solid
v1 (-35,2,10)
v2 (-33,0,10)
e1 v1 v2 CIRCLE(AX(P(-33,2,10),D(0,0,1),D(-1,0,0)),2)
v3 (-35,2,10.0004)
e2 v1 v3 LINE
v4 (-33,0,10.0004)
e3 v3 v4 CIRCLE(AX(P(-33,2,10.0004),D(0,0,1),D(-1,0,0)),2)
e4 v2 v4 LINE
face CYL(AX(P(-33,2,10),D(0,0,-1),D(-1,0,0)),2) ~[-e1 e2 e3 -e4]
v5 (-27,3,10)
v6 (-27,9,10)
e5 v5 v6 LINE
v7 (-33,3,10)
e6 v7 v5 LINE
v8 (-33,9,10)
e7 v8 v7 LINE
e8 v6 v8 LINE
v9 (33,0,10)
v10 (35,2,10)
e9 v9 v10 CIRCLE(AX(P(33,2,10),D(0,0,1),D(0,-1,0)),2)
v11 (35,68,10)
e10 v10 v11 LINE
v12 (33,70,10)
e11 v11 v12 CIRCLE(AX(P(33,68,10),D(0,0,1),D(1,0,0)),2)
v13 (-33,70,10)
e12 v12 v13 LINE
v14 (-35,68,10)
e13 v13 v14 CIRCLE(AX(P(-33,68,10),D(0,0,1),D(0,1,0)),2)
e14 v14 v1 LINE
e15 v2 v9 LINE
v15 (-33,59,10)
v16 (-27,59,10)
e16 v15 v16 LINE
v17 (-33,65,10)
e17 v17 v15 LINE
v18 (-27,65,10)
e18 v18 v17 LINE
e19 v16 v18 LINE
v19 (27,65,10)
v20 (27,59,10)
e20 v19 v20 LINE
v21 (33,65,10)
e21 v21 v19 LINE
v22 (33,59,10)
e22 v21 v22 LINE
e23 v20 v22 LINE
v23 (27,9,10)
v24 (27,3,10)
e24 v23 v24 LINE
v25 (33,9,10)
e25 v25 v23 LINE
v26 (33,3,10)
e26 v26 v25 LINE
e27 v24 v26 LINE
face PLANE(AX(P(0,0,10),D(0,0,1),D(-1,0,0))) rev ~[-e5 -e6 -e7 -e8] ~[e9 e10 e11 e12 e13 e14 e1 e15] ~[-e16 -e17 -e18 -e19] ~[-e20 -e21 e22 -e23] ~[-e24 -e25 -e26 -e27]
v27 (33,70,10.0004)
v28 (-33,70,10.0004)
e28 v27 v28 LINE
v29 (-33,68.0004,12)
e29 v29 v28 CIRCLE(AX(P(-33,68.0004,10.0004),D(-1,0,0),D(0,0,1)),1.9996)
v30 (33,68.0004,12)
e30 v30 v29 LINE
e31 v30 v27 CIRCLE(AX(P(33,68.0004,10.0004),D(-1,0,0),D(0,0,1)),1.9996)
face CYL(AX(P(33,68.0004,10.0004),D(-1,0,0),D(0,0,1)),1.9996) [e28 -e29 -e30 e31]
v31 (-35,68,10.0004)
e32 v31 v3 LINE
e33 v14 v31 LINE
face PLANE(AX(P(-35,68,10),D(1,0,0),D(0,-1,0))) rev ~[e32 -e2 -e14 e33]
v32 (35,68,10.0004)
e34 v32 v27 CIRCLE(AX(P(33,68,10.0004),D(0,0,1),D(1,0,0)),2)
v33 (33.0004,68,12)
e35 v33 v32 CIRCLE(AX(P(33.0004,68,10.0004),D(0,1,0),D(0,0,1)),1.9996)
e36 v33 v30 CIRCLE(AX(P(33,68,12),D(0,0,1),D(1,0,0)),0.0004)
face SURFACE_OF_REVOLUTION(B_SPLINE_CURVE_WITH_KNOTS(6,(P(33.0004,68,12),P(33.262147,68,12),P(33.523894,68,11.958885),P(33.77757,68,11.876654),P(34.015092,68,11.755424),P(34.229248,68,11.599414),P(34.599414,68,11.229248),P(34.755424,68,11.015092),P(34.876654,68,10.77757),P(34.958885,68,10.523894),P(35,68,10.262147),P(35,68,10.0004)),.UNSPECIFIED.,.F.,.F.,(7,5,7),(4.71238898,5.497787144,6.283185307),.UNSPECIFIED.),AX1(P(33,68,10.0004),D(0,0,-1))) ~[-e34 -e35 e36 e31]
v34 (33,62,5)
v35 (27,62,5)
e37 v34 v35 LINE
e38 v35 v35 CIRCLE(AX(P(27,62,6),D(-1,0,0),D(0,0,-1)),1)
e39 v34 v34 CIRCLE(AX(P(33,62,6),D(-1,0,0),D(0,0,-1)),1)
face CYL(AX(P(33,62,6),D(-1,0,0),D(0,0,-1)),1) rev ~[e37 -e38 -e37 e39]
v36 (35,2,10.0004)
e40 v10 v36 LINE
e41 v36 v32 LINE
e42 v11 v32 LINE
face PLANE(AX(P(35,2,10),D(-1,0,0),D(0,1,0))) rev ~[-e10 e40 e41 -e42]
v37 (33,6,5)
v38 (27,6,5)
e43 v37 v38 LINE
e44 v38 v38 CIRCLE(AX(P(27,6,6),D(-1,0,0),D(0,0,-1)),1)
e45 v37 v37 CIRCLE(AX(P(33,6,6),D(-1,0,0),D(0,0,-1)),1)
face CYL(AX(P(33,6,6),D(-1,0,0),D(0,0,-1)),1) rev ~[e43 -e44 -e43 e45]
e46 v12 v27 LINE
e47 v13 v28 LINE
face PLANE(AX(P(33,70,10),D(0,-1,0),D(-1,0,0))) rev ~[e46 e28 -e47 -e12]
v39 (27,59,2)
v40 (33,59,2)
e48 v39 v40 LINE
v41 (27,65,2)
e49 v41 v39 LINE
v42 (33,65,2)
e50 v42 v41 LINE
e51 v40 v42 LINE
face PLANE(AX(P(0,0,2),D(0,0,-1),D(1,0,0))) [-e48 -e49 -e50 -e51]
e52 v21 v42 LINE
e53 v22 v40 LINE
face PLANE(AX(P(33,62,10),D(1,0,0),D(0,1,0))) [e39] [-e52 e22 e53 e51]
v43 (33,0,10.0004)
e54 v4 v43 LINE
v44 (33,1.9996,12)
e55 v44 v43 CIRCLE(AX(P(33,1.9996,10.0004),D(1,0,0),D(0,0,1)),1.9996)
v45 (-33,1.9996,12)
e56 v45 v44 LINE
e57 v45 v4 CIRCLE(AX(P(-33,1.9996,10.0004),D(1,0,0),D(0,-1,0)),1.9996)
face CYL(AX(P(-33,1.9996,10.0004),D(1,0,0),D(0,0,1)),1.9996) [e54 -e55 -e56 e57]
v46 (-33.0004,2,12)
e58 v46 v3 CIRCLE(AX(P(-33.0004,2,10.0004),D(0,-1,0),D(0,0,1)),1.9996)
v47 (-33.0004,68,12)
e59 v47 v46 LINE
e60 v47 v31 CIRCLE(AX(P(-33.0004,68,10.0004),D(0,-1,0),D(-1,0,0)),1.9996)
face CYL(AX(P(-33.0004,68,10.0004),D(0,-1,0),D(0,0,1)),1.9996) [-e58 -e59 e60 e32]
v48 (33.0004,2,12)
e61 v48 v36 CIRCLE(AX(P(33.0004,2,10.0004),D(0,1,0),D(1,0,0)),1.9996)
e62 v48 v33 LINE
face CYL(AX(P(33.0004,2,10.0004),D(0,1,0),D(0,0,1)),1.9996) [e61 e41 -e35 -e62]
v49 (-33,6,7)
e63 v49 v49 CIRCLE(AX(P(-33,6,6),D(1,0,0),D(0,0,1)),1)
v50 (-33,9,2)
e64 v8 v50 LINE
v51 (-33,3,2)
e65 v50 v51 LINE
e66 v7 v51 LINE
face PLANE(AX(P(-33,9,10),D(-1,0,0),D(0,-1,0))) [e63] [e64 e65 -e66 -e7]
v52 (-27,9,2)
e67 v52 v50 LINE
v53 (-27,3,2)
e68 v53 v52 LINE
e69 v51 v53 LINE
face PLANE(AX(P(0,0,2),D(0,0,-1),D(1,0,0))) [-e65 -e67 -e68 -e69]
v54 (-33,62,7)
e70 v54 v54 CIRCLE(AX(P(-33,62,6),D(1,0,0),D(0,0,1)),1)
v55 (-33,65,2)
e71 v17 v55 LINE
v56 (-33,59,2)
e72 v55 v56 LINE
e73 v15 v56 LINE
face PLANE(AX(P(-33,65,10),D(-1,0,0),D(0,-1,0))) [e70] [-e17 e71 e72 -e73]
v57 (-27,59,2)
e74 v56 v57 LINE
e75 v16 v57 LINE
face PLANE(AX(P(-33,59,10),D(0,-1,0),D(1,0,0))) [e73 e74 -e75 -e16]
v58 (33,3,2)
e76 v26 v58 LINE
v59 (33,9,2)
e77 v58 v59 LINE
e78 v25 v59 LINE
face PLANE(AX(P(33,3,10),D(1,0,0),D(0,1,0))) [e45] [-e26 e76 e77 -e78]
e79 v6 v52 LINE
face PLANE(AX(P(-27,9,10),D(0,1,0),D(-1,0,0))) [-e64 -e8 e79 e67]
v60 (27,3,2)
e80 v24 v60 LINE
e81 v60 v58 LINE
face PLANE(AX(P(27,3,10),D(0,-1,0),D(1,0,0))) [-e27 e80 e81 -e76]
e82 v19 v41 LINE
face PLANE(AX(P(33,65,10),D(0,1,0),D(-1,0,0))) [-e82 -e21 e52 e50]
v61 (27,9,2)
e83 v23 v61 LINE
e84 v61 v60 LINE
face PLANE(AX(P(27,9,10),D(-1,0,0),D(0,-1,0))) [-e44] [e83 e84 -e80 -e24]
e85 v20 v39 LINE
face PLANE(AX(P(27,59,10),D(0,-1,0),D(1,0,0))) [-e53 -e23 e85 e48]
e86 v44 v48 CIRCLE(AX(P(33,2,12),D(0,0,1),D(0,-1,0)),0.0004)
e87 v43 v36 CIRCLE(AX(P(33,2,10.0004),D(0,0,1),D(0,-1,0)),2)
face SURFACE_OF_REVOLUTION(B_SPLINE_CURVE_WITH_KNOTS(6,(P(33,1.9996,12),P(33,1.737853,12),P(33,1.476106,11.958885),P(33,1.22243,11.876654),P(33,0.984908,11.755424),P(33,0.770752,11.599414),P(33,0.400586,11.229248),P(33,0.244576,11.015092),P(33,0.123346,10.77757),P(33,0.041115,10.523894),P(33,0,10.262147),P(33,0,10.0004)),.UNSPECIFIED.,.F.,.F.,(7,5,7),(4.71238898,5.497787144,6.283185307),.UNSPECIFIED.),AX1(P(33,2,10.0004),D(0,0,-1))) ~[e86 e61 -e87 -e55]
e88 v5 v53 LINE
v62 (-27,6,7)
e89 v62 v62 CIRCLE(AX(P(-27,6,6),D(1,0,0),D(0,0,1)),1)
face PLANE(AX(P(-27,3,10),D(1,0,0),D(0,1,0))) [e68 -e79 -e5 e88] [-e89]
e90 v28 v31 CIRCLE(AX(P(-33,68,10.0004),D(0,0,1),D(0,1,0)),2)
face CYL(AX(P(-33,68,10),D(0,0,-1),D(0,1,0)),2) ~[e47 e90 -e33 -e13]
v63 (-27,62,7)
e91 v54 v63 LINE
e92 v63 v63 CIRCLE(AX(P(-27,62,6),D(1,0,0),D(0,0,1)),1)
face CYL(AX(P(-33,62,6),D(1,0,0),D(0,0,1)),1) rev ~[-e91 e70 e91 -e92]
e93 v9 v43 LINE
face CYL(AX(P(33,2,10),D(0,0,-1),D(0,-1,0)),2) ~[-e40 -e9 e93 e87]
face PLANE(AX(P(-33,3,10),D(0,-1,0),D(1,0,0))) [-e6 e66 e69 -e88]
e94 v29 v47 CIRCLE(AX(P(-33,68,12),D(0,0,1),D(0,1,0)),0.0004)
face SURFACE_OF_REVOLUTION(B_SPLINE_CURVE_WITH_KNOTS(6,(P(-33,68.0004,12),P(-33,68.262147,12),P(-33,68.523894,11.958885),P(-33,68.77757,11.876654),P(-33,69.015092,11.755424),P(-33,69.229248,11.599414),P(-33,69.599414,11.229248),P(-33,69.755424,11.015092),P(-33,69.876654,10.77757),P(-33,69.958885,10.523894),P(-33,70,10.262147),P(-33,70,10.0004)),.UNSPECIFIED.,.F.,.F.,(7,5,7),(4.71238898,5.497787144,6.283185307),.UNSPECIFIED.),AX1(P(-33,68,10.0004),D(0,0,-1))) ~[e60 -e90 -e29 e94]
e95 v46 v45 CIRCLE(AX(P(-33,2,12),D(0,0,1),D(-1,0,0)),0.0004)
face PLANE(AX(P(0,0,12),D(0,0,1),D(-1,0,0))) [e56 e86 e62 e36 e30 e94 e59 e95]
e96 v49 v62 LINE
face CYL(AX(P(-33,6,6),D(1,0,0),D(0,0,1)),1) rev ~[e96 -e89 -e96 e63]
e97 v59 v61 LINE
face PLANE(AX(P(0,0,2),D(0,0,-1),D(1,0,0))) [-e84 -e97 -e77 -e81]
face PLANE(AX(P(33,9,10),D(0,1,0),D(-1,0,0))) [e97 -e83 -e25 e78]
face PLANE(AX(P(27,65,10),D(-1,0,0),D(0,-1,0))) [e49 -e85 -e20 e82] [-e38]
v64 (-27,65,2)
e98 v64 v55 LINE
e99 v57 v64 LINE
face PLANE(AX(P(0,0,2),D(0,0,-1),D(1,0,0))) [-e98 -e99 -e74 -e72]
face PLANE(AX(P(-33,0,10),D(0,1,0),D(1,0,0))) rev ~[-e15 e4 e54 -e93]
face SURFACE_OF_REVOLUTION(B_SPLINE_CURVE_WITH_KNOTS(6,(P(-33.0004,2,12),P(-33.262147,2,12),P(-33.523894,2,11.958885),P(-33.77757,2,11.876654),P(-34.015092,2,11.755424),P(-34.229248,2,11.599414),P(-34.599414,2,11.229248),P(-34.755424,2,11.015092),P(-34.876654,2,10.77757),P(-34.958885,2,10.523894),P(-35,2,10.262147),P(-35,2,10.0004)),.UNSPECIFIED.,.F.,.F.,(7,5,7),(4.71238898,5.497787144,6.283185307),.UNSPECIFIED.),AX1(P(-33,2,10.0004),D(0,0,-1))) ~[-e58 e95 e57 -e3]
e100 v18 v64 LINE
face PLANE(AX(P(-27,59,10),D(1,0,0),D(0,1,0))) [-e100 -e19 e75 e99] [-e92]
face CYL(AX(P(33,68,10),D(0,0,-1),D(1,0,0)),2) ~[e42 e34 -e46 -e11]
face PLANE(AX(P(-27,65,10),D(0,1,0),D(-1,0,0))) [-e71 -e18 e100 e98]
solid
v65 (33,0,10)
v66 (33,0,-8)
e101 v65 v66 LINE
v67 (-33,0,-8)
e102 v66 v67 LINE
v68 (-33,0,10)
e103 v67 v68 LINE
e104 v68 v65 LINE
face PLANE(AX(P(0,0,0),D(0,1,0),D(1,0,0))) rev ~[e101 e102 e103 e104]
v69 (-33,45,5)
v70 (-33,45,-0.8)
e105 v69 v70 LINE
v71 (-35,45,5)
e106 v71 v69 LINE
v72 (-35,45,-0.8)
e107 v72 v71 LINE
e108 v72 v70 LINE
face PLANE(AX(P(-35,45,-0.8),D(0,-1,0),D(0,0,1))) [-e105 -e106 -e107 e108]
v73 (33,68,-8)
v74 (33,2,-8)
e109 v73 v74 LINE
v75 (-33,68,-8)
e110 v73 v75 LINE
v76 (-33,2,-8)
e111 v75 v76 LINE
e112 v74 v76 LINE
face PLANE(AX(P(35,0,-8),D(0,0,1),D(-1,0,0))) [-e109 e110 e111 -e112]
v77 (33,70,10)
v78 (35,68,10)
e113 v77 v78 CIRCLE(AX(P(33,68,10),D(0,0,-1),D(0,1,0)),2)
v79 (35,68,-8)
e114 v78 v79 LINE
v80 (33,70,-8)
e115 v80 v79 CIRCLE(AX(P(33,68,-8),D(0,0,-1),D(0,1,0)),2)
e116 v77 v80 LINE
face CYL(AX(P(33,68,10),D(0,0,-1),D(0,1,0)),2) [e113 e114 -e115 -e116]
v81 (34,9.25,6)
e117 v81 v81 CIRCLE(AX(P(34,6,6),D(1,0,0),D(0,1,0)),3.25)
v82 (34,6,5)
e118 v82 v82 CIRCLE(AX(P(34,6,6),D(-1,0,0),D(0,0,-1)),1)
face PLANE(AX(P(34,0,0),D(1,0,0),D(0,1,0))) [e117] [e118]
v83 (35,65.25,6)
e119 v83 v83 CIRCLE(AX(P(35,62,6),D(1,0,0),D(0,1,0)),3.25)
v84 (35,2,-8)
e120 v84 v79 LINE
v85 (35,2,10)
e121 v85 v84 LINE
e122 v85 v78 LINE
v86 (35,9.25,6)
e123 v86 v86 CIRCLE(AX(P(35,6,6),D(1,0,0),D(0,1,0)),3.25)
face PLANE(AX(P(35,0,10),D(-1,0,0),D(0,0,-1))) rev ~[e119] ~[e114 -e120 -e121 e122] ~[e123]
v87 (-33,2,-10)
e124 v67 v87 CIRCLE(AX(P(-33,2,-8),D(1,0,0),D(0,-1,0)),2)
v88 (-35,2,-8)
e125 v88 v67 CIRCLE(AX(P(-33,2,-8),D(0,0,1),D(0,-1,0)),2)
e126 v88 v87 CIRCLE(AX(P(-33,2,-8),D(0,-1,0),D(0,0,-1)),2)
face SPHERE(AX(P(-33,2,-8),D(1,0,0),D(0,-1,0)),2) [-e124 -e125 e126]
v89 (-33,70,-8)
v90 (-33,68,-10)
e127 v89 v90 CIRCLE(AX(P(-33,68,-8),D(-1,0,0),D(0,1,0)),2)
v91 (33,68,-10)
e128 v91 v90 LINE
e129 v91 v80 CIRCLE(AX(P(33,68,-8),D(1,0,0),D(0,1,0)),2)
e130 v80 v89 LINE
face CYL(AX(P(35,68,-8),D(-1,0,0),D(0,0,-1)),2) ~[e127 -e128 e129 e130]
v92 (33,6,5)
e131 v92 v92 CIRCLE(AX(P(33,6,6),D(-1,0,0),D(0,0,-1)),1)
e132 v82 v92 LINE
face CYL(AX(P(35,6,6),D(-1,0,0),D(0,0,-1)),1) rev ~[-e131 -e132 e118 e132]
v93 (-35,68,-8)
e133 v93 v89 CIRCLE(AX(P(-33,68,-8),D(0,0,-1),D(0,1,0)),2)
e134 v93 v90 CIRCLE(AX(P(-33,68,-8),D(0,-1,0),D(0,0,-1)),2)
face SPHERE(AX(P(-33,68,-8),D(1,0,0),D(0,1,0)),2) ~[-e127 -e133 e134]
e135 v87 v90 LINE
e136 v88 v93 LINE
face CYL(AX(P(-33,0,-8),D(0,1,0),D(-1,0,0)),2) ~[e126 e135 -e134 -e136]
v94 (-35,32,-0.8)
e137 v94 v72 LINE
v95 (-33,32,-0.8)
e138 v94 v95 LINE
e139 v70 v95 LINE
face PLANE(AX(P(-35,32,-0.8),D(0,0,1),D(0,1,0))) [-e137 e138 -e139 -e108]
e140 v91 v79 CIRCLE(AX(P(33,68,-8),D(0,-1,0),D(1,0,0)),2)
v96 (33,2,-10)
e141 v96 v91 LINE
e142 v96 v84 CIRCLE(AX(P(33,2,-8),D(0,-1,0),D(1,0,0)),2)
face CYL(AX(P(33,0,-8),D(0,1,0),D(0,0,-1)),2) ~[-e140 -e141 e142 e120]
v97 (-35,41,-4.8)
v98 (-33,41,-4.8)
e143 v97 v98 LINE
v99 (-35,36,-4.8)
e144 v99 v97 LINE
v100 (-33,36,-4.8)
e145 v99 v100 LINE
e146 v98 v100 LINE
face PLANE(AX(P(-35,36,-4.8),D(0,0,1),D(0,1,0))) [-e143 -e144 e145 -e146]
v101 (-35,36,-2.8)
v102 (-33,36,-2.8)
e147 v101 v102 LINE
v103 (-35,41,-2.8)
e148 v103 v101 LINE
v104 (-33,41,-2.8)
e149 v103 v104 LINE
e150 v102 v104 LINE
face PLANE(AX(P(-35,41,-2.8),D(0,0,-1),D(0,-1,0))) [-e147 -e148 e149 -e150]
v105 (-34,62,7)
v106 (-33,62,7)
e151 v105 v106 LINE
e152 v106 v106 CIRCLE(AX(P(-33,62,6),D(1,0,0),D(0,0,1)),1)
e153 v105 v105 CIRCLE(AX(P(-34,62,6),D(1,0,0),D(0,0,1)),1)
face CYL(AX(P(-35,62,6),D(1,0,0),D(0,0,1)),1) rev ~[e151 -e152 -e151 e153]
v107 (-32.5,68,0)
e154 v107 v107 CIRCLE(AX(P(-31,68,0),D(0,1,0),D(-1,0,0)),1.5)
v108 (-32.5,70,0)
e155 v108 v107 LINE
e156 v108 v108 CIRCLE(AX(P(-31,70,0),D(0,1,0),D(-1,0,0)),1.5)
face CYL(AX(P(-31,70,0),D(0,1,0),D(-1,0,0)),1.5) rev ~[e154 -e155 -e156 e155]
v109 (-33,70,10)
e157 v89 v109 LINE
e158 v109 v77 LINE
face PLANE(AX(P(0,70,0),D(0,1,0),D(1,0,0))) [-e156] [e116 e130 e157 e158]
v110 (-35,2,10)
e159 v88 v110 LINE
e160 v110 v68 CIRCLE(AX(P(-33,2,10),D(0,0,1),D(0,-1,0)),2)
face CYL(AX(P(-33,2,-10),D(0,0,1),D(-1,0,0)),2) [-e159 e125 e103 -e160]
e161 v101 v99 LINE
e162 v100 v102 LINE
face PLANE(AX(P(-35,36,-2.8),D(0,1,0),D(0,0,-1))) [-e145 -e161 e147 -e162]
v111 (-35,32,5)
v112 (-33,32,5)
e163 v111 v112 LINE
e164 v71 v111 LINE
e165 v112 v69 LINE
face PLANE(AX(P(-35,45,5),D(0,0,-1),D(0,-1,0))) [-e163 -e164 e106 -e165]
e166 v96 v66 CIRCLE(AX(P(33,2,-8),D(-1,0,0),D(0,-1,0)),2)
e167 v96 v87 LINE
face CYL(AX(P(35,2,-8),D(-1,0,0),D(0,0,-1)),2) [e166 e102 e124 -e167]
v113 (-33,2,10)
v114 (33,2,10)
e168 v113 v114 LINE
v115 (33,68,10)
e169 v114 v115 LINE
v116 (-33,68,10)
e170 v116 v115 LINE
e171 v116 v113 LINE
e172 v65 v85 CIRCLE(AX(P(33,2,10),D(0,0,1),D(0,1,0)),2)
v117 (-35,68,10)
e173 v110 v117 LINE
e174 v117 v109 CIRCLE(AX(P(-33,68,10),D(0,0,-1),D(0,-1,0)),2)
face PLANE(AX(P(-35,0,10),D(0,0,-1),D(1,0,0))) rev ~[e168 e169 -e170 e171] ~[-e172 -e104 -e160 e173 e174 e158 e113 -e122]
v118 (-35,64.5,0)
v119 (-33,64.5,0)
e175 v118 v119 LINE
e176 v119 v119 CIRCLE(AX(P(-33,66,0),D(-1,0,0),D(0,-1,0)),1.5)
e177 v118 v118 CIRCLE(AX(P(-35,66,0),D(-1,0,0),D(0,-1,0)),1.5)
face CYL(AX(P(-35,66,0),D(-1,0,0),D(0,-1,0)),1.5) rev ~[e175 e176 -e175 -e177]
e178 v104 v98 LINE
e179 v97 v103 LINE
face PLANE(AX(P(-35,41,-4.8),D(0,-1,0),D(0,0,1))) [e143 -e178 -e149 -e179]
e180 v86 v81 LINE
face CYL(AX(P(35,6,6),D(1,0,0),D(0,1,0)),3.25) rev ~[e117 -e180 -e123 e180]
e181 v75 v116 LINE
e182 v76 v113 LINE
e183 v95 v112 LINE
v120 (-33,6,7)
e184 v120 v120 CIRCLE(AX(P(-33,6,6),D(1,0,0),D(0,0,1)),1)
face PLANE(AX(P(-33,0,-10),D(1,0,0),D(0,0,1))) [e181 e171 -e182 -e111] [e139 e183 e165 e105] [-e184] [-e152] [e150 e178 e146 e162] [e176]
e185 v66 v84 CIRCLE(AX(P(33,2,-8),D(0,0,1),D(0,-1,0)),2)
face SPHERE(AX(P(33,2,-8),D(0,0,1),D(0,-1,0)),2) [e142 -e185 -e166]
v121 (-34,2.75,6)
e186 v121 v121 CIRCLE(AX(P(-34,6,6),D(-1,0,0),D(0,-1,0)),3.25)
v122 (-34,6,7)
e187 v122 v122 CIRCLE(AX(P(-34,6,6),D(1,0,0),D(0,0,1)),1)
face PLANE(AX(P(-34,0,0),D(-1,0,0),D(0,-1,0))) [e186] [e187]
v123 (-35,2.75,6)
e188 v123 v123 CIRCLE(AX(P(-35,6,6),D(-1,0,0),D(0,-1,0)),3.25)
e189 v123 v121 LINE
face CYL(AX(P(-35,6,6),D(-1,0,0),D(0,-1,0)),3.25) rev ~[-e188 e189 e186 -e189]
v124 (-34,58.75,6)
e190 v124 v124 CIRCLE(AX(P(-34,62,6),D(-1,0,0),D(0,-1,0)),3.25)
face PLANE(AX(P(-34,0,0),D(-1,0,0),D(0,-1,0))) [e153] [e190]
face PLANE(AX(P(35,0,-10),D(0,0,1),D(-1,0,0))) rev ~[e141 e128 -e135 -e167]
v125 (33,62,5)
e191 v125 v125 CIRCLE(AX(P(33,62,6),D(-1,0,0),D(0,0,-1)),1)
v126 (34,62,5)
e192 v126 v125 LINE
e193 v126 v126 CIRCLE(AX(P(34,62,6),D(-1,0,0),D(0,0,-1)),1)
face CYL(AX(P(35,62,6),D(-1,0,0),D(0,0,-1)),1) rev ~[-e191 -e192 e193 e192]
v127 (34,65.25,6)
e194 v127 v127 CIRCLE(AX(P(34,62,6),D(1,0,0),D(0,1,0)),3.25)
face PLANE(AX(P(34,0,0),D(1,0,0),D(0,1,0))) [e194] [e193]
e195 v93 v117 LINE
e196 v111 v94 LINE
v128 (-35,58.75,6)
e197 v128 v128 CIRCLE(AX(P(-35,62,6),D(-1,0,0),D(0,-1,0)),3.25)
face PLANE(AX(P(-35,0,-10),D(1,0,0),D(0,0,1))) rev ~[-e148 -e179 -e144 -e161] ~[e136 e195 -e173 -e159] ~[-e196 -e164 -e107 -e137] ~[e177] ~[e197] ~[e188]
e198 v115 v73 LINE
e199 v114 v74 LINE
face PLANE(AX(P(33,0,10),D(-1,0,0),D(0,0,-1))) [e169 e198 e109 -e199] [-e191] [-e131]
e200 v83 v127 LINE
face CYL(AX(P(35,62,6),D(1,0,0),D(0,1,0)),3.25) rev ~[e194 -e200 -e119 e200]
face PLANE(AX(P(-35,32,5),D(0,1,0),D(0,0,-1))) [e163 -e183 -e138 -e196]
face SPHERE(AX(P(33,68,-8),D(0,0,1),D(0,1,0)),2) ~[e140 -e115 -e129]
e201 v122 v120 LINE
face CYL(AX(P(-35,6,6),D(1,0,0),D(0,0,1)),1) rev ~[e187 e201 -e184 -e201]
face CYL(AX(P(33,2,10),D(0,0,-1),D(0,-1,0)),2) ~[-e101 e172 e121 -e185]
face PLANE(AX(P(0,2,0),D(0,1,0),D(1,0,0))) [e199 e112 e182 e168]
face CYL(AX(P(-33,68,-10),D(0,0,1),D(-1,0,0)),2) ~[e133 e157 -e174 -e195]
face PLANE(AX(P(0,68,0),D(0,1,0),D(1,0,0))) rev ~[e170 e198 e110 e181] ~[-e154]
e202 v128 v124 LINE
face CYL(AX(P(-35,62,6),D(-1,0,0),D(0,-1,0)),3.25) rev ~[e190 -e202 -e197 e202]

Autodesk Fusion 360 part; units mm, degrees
sketch "Sketch1" plane through (0, 0, 0) normal (0, 1, 0) x (1, 0, 0) in component "Case"
  line L0 (-35, -10) -> (35, -10)
  line L1 (35, -10) -> (35, 10)
  line L2 (35, 10) -> (-35, 10)
  line L3 (-35, 10) -> (-35, -10)
  dimension "d1" = 70
  dimension "d2" = 20
  dimension "d4" = 35
  dimension "d5" = 10
extrude "Extrude1" add sketch "Sketch1" along normal blind 70 makes body 1 in component "Case"
shell "Shell1" thickness 2 removed faces 1 at (-11.6667, 23.3333, 10) on bodies 1 in component "Case"
sketch "Sketch2" plane through (-35, 0, 0) normal (-1, 0, 0) x (0, -1, 0) in component "Case"
  line L0 (0, -10) -> (0, 10)
  line L1 (0, 10) -> (-70, 10)
  line L2 (-70, 10) -> (-70, -10)
  line L3 (-70, -10) -> (0, -10)
  circle A0 centre (-66, 0) radius 1.5
  circle A1 centre (-6, 6) radius 3.25
  circle A2 centre (-62, 6) radius 3.25
  line L4 (-45, 5) -> (-32, 5)
  line L5 (-32, 5) -> (-32, -0.8)
  line L6 (-32, -0.8) -> (-45, -0.8)
  line L7 (-45, -0.8) -> (-45, 5)
  line L8 (-41, -2.8) -> (-36, -2.8)
  line L9 (-36, -2.8) -> (-36, -4.8)
  line L10 (-36, -4.8) -> (-41, -4.8)
  line L11 (-41, -4.8) -> (-41, -2.8)
  dimension "d9" = 3
  dimension "d10" = 4
  dimension "d11" = 10
  dimension "d12" = 6.5
  dimension "d14" = 6
  dimension "d15" = 6.5
  dimension "d16" = 8
  dimension "d17" = 4
  dimension "d29" = 13
  dimension "d30" = 5.8
  dimension "d31" = 5
  dimension "d32" = 2
  dimension "d33" = 5
  dimension "d34" = 25
  dimension "d35" = 2
  dimension "d36" = 4
  dimension "d87" = 4
hole "Hole2" at (-35, 6, 6) direction (1, 0, 0) diameter 2 depth 6 tip angle 118 bodies 1 in component "Case"
hole "Hole1" at (-35, 62, 6) direction (1, 0, 0) diameter 2 depth 6 tip angle 118 bodies 1 in component "Case"
extrude "Extrude2" cut sketch "Sketch2" against normal blind 1 contours A1 | A2 bodies 1 in component "Case"
extrude "Extrude3" cut sketch "Sketch2" against normal blind 6 contours A0 | L4 L5 L6 L7 | L8 L9 L10 L11 bodies 1 in component "Case"
sketch "Sketch3" plane through (0, 70, 0) normal (0, 1, 0) x (-1, 0, 0) in component "Case"
  line L0 (35, -10) -> (35, 10)
  line L1 (35, 10) -> (-35, 10)
  line L2 (-35, 10) -> (-35, -10)
  line L3 (-35, -10) -> (35, -10)
  circle A0 centre (31, 0) radius 1.5
  point P0 (35, 10)
  dimension "d39" = 3
  dimension "d40" = 4
  dimension "d41" = 10
extrude "Extrude4" cut sketch "Sketch3" against normal blind 6 contours A0 bodies 1 in component "Case"
sketch "Sketch4" plane through (35, 0, 0) normal (1, 0, 0) x (0, 1, 0) in component "Case"
  line L0 (0, 10) -> (0, -10)
  line L1 (0, -10) -> (70, -10)
  line L2 (70, -10) -> (70, 10)
  line L3 (70, 10) -> (0, 10)
  circle A0 centre (6, 6) radius 3.25
  circle A1 centre (62, 6) radius 3.25
  dimension "d44" = 6.5
  dimension "d45" = 6
  dimension "d46" = 4
  dimension "d47" = 6.5
  dimension "d48" = 8
  dimension "d49" = 4
hole "Hole5" at (35, 62, 6) direction (-1, 0, 0) diameter 2 depth 6 tip angle 118 bodies 1 in component "Case"
hole "Hole4" at (35, 6, 6) direction (-1, 0, 0) diameter 2 depth 6 tip angle 118 bodies 1 in component "Case"
extrude "Extrude5" cut sketch "Sketch4" against normal blind 1 contours A0 | A1 bodies 1 in component "Case"
fillet "Fillet1" radius 2 8 edges at (35, 0, 0) (0, 0, -10) (-35, 0, 0) (35, 70, 0) (0, 70, -10) (-35, 70, 0) (-35, 35, -10) (35, 35, -10) on bodies 1 in component "Case"
sketch "Sketch1 (2)" plane through (0, 0, 10) normal (0, 0, 1) x (-1, 0, 0) in component "Top"
  arc A0 (-33, 0) -> (-35, -2) centre (-33, -2) ccw
  line L0 (-35, -2) -> (-35, -68)
  arc A1 (-35, -68) -> (-33, -70) centre (-33, -68) ccw
  line L1 (-33, -70) -> (33, -70)
  arc A2 (33, -70) -> (35, -68) centre (33, -68) ccw
  line L2 (35, -68) -> (35, -2)
  arc A3 (35, -2) -> (33, 0) centre (33, -2) ccw
  line L3 (33, 0) -> (-33, 0)
  line L4 (33, -2) -> (33, -68)
  line L5 (33, -68) -> (-33, -68)
  line L6 (-33, -68) -> (-33, -2)
  line L7 (-33, -2) -> (33, -2)
  line L8 (33, -2) -> (-33, -2)
  line L9 (-33, -2) -> (-33, -68)
  line L10 (-33, -68) -> (33, -68)
  line L11 (33, -68) -> (33, -2)
extrude "Extrude1'" add sketch "Sketch1 (2)" along normal blind 2 separate body contours A0 L0 A1 L1 A2 L2 A3 L3 | L4 L5 L6 L7 L8 L9 L10 L11 makes body 2 in component "Top"
sketch "Sketch2 (2)" plane through (0, 0, 10) normal (0, 0, -1) x (1, 0, 0) in component "Top"
  line L0 (33, 0) -> (-33, 0)
  arc A0 (-33, 0) -> (-35, -2) centre (-33, -2) ccw
  line L1 (-35, -2) -> (-35, -68)
  arc A1 (-35, -68) -> (-33, -70) centre (-33, -68) ccw
  line L2 (-33, -70) -> (33, -70)
  arc A2 (33, -70) -> (35, -68) centre (33, -68) ccw
  line L3 (35, -68) -> (35, -2)
  arc A3 (35, -2) -> (33, 0) centre (33, -2) ccw
  line L4 (-33, -3) -> (-27, -3)
  line L5 (-27, -3) -> (-27, -9)
  line L6 (-27, -9) -> (-33, -9)
  line L7 (-33, -9) -> (-33, -3)
  line L8 (27, -3) -> (33, -3)
  line L9 (33, -3) -> (33, -9)
  line L10 (33, -9) -> (27, -9)
  line L11 (27, -9) -> (27, -3)
  line L12 (-33, -59) -> (-27, -59)
  line L13 (-27, -59) -> (-27, -65)
  line L14 (-27, -65) -> (-33, -65)
  line L15 (-33, -65) -> (-33, -59)
  line L16 (33, -62) -> (33, -68)
  line L17 (33, -68) -> (27, -68)
  line L18 (33, -65) -> (27, -65)
  line L19 (27, -65) -> (27, -59)
  line L20 (27, -59) -> (33, -59)
  line L21 (33, -59) -> (33, -65)
  dimension "d61" = 6
  dimension "d62" = 6
  dimension "d63" = 6
  dimension "d64" = 6
  dimension "d65" = 6
  dimension "d66" = 6
  dimension "d69" = 2
  dimension "d71" = 2
  dimension "d72" = 2
  dimension "d73" = 3
  dimension "d75" = 3
  dimension "d78" = 5
  dimension "d82" = 6
  dimension "d83" = 5
  dimension "d84" = 2
extrude "Extrude2'" add sketch "Sketch2 (2)" along normal blind 8 contours L4 L5 L6 L7 | L8 L9 L10 L11 | L12 L13 L14 L15 | L16 L18 L19 L20 L21 bodies 2 in component "Top"
hole "Hole1'" at (-33, 62, 6) direction (1, 0, 0) diameter 2 depth 6 tip angle 118 bodies 2 in component "Top"
hole "Hole2'" at (-33, 6, 6) direction (1, 0, 0) diameter 2 depth 6 tip angle 118 bodies 2 in component "Top"
hole "Hole3" at (33, 6, 6) direction (-1, 0, 0) diameter 2 depth 6 tip angle 118 bodies 2 in component "Top"
hole "Hole4'" at (33, 62, 6) direction (-1, 0, 0) diameter 2 depth 6 tip angle 118 bodies 2 in component "Top"
fillet "Fillet1'" radius 2 8 edges at (0, 70, 12) (-34.4142, 69.4142, 12) (-35, 35, 12) (-34.4142, 0.5858, 12) (0, 0, 12) (34.4142, 0.5858, 12) (35, 35, 12) (34.4142, 69.4142, 12) on bodies 2 in component "Top"
component "Case" placed x (1, 0, 0) y (0, 1, 0) z (0, 0, 1) at (0, 0, 0)
component "Top" placed x (1, 0, 0) y (0, 1, 0) z (0, 0, 1) at (0, 0, 0)
